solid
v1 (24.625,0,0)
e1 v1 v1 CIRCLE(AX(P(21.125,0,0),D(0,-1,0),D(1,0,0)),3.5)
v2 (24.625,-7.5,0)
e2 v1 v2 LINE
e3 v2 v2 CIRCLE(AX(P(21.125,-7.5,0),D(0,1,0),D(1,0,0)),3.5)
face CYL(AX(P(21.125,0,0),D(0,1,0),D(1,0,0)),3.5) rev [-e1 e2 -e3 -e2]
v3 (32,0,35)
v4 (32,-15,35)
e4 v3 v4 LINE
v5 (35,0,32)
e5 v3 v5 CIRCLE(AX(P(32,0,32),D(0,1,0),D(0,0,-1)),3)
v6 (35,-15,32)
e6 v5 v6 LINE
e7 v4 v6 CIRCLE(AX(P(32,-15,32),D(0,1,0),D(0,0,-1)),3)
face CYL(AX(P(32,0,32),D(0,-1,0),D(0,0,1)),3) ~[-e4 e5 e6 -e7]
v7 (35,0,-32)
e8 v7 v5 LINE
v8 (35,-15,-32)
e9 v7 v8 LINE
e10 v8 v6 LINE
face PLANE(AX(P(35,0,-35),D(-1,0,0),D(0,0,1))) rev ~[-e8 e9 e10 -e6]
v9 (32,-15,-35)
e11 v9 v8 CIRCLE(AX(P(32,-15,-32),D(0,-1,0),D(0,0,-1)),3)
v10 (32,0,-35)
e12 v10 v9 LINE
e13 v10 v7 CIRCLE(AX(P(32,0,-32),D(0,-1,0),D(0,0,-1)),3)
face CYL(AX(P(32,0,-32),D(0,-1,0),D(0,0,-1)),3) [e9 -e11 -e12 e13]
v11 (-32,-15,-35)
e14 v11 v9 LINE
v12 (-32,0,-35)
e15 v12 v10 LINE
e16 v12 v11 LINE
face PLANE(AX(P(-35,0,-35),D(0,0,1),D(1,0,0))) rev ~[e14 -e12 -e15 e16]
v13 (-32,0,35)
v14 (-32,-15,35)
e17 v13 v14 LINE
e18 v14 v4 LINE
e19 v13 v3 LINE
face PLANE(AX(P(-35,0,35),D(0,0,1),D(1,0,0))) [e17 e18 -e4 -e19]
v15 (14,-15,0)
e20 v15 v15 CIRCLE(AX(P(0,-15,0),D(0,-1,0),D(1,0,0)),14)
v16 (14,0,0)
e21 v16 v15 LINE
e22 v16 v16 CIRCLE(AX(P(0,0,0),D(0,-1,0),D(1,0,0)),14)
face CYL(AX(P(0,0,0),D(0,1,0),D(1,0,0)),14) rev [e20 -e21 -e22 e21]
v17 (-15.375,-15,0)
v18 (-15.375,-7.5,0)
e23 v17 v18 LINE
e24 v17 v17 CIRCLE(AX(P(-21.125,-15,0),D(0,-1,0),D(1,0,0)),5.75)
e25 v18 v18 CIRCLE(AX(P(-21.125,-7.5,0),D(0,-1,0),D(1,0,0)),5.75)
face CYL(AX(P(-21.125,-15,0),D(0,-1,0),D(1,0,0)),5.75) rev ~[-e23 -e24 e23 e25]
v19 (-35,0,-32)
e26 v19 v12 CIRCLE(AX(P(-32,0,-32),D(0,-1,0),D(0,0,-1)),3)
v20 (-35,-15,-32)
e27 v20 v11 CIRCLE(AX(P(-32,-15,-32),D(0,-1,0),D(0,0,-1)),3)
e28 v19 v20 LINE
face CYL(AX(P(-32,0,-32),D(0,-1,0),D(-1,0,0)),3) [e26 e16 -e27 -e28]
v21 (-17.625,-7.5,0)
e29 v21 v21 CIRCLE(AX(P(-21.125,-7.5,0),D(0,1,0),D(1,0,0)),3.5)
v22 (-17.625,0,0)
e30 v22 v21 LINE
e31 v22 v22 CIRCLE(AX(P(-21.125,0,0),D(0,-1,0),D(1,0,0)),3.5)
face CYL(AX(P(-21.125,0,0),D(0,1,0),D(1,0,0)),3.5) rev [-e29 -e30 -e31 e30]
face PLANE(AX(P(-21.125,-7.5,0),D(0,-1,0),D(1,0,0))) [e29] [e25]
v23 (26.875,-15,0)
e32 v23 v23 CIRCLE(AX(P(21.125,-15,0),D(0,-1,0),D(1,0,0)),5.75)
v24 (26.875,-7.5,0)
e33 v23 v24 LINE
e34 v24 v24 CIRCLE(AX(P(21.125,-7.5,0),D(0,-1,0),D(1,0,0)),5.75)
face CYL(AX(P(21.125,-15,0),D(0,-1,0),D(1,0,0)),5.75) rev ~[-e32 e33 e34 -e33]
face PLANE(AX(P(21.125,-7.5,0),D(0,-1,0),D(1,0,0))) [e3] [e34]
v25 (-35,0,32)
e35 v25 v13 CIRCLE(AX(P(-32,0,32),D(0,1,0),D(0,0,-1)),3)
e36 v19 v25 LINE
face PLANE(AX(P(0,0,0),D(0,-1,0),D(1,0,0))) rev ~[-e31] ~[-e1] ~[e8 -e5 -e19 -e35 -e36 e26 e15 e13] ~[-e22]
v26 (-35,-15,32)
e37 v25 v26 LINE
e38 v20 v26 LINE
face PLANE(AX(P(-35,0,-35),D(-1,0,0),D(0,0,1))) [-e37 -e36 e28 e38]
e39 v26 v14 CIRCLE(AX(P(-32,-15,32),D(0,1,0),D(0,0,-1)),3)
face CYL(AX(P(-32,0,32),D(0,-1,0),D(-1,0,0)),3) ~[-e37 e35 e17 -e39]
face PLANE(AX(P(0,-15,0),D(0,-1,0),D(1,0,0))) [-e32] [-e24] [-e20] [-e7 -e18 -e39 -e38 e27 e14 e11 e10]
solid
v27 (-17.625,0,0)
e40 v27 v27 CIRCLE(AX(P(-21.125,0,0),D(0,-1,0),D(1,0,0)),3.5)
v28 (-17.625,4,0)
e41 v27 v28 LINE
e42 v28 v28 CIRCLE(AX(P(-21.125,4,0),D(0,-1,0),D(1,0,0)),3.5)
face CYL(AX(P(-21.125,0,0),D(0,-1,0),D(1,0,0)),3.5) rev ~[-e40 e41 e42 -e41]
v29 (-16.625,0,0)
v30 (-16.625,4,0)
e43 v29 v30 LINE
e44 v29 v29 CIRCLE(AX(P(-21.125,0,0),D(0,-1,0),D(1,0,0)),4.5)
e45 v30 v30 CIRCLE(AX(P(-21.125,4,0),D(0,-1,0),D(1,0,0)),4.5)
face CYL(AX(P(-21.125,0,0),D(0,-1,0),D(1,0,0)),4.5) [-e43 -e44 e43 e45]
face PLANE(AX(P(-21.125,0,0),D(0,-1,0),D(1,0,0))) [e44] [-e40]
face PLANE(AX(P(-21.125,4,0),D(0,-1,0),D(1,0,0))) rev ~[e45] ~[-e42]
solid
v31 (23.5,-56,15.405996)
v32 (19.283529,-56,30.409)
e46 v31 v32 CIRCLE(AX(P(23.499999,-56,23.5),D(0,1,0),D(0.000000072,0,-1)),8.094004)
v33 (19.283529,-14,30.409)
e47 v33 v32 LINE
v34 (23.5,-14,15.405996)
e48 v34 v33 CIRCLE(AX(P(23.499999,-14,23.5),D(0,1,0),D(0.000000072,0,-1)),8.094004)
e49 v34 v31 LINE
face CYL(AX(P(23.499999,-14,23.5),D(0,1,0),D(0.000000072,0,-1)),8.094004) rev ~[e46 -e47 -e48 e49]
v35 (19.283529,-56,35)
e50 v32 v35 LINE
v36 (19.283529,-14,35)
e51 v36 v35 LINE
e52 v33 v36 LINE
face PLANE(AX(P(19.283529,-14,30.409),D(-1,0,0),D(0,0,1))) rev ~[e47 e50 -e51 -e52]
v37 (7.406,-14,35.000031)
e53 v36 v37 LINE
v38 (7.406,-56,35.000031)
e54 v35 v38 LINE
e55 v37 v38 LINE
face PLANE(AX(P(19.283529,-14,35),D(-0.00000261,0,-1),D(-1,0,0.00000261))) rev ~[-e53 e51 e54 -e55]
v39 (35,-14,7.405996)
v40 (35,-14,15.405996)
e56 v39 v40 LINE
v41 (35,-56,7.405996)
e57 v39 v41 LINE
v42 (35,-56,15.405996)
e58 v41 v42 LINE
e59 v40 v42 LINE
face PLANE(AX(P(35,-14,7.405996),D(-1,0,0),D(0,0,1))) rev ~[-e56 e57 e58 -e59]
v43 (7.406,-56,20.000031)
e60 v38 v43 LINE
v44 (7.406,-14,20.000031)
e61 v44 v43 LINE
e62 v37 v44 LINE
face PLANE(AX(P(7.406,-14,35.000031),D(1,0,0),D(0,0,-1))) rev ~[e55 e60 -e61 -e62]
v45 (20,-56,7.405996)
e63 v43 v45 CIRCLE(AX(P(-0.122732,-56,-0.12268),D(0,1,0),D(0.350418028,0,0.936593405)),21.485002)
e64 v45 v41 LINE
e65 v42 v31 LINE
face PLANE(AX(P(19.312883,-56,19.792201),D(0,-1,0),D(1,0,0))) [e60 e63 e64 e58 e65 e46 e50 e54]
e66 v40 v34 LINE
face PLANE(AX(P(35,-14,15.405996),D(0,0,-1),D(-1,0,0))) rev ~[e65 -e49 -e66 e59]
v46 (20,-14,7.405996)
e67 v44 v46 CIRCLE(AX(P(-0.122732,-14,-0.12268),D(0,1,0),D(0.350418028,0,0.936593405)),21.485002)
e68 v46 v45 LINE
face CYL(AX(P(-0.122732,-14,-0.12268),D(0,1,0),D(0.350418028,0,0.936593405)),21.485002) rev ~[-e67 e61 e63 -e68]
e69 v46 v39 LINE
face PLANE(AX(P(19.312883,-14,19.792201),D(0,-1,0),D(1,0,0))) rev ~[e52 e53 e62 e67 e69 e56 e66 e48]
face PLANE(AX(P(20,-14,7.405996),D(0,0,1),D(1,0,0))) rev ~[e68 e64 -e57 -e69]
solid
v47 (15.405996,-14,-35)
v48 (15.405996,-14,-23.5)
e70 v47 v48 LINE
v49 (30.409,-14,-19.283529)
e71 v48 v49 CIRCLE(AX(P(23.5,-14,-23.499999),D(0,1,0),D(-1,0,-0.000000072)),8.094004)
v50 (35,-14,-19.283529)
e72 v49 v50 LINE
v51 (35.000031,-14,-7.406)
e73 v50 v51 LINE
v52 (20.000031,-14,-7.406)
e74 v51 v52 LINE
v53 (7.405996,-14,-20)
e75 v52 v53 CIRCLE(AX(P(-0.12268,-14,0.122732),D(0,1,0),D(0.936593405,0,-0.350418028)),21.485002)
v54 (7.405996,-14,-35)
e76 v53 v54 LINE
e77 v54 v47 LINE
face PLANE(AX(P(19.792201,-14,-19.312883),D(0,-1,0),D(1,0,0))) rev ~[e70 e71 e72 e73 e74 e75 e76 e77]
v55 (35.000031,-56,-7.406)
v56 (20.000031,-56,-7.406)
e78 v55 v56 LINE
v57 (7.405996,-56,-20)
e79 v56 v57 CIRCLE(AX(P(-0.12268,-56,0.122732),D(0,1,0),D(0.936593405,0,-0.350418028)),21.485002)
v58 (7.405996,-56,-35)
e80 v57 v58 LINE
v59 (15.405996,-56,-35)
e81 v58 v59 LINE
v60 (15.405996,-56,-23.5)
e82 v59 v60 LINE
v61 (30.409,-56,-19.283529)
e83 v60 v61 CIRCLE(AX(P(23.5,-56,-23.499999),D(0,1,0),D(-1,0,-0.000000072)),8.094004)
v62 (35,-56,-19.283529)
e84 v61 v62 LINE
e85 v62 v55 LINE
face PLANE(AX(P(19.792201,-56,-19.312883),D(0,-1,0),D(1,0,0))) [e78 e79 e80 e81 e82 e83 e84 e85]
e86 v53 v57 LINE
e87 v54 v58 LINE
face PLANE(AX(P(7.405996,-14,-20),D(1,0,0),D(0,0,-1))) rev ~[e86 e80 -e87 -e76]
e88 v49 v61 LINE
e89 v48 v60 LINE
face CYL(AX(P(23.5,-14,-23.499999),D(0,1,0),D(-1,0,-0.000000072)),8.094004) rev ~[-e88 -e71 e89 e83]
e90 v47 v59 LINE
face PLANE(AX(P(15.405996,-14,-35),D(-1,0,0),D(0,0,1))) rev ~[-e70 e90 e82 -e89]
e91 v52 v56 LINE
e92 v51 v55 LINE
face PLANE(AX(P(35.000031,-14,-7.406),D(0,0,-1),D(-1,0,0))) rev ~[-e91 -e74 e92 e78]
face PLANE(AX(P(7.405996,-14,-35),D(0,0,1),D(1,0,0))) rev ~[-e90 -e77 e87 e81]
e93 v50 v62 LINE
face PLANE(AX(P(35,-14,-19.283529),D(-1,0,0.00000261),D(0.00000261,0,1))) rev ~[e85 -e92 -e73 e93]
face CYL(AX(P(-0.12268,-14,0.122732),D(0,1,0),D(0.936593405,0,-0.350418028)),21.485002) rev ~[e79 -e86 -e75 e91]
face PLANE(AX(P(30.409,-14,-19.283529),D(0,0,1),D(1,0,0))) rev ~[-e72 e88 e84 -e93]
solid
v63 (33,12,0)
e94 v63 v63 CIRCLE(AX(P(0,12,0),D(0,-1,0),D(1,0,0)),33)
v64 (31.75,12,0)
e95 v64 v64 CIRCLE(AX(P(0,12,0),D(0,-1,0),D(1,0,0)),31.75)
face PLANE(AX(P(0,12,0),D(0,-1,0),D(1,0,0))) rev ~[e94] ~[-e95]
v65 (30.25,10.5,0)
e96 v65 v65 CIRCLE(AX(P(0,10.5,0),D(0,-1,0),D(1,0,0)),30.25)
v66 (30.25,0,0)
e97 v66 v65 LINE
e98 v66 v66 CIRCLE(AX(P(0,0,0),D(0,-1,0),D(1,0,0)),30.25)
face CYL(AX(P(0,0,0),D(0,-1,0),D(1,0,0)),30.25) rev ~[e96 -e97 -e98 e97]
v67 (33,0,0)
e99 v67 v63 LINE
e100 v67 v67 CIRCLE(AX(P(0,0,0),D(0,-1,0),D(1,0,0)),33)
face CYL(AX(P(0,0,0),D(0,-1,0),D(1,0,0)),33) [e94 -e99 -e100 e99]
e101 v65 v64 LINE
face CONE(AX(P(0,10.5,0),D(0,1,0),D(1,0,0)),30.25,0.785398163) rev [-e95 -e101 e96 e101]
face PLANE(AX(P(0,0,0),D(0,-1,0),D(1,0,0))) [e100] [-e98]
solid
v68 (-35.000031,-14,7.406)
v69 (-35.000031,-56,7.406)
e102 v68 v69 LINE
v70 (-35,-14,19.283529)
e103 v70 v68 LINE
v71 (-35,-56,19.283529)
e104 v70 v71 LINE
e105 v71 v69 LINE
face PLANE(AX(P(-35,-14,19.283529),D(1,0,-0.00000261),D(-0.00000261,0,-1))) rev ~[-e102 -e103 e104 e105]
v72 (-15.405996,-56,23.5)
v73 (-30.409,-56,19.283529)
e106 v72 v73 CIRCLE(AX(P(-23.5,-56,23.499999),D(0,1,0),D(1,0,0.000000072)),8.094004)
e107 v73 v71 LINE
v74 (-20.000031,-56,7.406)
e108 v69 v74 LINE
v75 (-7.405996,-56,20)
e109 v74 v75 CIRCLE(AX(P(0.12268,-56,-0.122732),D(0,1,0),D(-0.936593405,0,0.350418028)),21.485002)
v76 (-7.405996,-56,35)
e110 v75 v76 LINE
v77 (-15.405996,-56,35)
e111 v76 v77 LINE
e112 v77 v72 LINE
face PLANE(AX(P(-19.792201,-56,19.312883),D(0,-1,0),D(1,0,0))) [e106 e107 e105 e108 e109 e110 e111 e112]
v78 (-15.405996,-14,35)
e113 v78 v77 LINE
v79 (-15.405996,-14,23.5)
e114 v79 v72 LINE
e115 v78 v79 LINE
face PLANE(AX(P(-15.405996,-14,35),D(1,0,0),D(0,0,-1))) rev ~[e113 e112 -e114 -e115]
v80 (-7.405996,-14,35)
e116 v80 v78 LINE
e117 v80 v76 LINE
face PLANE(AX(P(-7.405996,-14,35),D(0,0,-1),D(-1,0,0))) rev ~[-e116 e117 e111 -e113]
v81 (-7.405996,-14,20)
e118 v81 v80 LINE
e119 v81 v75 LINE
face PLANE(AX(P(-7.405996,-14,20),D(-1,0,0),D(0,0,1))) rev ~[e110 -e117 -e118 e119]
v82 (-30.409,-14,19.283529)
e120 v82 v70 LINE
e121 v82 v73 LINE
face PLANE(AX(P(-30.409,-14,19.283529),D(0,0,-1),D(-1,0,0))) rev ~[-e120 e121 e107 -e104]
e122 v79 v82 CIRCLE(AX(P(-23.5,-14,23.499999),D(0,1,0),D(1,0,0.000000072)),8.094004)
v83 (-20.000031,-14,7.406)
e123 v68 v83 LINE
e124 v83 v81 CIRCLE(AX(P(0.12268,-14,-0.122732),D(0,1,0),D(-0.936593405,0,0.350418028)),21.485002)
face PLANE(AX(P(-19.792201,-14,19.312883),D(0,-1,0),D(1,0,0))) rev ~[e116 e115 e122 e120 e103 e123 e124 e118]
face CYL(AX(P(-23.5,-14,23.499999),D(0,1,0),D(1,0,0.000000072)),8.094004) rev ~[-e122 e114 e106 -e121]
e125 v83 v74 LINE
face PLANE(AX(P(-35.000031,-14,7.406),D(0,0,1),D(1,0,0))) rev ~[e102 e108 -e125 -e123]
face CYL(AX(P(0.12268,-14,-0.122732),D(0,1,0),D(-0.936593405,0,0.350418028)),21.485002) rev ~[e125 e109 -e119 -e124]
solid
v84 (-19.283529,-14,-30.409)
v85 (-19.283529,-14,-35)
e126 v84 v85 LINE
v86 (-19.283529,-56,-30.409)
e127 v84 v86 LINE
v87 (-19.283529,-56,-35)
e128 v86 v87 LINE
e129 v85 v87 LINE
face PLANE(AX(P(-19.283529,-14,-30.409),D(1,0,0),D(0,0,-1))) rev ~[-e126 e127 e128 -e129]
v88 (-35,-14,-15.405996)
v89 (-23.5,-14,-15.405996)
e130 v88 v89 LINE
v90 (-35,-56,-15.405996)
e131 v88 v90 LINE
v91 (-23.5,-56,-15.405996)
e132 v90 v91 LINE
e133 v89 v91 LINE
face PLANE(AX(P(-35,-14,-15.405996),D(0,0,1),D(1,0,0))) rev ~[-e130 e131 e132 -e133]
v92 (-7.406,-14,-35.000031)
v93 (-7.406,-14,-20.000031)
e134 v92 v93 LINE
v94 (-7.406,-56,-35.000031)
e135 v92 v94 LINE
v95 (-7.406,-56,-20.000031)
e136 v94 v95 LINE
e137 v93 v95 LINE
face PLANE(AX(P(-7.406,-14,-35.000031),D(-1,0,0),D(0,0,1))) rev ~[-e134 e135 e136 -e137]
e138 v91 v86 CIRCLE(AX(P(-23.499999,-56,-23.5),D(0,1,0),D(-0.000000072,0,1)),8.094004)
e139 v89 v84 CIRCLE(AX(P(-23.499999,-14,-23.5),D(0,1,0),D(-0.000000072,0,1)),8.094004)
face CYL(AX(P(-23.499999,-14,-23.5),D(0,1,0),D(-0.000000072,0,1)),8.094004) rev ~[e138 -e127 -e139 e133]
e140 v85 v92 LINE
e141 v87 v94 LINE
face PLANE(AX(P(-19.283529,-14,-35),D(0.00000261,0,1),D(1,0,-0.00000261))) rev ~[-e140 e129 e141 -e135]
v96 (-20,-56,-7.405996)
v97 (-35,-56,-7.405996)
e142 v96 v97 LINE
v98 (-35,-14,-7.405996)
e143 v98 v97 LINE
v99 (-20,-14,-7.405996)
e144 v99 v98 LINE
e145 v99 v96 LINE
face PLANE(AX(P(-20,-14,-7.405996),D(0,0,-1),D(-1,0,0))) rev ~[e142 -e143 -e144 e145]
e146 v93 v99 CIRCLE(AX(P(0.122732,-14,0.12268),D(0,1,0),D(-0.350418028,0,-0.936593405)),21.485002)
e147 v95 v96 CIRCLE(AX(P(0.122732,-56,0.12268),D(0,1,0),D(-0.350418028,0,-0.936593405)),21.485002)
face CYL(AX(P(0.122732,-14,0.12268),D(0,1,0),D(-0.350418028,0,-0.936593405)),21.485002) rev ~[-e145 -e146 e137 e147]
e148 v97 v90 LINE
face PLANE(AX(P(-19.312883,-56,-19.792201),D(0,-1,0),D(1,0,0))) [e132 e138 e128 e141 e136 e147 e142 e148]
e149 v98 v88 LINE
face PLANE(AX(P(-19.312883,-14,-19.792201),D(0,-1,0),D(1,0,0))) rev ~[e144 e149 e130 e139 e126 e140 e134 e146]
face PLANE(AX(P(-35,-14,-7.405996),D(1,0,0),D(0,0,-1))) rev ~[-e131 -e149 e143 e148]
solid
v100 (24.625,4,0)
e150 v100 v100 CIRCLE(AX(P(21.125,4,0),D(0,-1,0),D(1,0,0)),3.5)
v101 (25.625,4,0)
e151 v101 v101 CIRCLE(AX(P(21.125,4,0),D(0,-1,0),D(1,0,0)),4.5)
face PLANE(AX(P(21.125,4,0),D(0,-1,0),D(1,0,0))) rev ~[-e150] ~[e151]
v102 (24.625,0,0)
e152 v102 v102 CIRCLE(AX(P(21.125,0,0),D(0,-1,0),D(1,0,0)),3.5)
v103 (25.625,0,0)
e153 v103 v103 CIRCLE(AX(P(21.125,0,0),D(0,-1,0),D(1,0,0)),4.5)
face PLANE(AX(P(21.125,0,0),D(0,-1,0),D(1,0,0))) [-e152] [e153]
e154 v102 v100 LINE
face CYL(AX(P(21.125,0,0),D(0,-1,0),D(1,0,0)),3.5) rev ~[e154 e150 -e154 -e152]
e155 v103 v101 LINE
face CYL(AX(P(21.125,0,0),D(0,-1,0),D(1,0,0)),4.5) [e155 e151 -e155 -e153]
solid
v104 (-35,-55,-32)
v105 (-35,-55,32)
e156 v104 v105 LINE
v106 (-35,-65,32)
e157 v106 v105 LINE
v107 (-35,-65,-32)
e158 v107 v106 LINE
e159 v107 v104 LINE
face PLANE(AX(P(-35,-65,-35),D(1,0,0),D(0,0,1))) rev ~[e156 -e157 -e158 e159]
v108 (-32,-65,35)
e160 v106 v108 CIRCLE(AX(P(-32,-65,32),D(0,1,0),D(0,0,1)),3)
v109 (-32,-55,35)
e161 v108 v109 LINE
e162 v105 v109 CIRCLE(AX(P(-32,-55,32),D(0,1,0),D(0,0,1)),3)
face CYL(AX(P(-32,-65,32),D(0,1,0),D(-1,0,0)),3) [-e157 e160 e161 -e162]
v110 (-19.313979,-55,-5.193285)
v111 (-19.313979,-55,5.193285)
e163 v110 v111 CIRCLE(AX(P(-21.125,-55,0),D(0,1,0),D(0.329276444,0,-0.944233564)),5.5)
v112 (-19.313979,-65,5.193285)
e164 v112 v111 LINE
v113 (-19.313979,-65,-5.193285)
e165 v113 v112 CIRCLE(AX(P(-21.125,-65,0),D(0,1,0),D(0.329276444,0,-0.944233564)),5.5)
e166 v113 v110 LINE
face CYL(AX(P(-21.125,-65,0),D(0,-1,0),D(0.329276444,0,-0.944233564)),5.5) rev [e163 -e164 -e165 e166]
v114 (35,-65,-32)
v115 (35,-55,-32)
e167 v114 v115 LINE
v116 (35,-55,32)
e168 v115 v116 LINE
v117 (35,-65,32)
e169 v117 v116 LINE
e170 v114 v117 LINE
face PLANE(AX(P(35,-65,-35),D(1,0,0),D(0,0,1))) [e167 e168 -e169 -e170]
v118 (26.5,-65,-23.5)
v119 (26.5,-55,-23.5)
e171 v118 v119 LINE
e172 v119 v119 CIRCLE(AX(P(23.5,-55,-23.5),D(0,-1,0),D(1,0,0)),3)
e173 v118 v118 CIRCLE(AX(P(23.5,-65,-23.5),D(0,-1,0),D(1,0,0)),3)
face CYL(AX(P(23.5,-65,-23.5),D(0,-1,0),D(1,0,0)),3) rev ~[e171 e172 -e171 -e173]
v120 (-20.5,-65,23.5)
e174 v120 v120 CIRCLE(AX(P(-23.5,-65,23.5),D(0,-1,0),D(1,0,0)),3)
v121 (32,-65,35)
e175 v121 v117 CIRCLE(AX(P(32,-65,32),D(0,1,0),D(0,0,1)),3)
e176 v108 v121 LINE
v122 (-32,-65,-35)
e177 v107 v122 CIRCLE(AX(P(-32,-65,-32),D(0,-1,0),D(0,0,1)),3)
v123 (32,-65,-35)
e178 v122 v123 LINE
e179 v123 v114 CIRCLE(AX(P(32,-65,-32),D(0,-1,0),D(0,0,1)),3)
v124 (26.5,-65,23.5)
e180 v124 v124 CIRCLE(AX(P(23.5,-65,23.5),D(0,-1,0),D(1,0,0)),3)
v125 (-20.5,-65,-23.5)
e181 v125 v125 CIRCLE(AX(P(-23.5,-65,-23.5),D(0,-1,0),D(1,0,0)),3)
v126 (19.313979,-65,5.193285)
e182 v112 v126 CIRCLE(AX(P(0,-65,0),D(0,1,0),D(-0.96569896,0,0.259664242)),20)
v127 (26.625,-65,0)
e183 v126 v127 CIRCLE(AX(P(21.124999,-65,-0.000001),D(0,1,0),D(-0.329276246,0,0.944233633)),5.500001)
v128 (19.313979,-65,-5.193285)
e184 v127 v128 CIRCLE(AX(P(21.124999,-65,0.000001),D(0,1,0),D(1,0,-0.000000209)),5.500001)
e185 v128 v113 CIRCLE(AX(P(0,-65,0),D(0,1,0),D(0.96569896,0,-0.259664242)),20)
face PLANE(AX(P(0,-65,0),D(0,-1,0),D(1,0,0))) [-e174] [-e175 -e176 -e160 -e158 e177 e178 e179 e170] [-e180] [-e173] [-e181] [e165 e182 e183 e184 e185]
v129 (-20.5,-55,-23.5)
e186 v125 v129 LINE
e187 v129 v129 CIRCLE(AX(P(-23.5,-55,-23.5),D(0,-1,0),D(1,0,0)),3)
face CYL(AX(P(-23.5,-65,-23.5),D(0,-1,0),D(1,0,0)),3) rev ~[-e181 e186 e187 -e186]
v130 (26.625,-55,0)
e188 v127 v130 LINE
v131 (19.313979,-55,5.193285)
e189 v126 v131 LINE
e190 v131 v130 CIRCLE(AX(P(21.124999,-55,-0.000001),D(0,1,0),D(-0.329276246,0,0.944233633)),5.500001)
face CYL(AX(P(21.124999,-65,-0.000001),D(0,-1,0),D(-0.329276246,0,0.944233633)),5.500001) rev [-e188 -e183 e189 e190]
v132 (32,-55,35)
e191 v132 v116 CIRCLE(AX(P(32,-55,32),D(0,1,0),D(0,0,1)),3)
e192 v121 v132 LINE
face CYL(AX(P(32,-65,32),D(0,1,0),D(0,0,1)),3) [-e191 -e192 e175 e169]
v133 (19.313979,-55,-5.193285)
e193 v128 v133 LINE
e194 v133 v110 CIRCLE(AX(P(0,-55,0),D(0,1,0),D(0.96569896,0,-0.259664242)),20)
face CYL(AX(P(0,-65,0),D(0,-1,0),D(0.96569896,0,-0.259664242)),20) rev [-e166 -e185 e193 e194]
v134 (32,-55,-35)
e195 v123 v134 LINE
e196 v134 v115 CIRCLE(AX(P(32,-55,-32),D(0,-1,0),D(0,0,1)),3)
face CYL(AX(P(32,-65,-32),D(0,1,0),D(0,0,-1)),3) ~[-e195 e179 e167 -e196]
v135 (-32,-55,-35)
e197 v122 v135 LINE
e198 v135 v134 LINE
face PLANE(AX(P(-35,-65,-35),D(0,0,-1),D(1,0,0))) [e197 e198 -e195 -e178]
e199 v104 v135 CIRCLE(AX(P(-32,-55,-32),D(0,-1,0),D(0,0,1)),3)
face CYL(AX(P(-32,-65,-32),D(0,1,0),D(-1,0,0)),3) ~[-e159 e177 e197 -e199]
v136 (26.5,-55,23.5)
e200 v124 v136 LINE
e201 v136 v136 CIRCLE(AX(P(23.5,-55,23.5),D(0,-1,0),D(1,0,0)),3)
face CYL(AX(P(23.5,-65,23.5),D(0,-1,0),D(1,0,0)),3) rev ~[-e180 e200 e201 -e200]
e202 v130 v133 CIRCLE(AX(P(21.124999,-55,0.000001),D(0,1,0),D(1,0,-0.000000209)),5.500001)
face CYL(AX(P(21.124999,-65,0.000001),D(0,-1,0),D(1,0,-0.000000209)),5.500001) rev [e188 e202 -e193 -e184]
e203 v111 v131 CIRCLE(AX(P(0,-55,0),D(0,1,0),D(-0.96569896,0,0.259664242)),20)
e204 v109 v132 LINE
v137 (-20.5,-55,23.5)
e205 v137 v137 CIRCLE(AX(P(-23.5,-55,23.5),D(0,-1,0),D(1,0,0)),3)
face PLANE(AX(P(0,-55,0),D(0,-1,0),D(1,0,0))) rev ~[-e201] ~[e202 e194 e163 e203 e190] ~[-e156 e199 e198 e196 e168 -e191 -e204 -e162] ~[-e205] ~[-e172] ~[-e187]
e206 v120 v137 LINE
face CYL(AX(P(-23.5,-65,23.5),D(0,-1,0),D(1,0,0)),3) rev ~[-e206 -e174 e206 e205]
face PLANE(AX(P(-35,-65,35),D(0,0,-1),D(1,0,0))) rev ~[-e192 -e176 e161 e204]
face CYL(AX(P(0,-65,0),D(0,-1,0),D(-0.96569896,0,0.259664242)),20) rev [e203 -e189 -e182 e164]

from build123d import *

# Parameters (mm, degrees)
F0_R      = 4.5
F0_R_2    = 3.5
F1_DEPTH  = 4
F2_R      = 33
F2_R_2    = 30.25
F3_DEPTH  = 12
F4_SIZE   = 1.5
F5_W      = 70
F5_H      = 70
F5_R      = 3.5
F5_R_2    = 14
F6_DEPTH  = 15
F8_R      = 5.75
F9_DEPTH  = 7.5
F11_W     = 70
F11_H     = 70
F11_R     = 3
F12_DEPTH = 10
F15_DEPTH = 42
F16_R     = 3
F17_R     = 3


with BuildPart() as f1:
    # F0 (on Front) → F1 (new body)
    with BuildSketch(Plane.XZ):
        with Locations((-21.125, 0)):
            Circle(F0_R)
        with Locations((-21.125, 0)):
            Circle(F0_R_2, mode=Mode.SUBTRACT)
        with Locations((21.125, 0)):
            Circle(F0_R)
        with Locations((21.125, 0)):
            Circle(F0_R_2, mode=Mode.SUBTRACT)
    extrude(amount=-F1_DEPTH)


with BuildPart() as f3:
    # F2 (on Front) → F3 (new body)
    with BuildSketch(Plane.XZ):
        Circle(F2_R)
        Circle(F2_R_2, mode=Mode.SUBTRACT)
    extrude(amount=-F3_DEPTH)

    # F4
    f4_edges = [f3.edges().sort_by_distance(p)[0] for p in [
        (-30.25, 12, 0),
    ]]
    chamfer(f4_edges, length=F4_SIZE)


with BuildPart() as f6:
    # F5 (on Front) → F6 (new body)
    with BuildSketch(Plane.XZ):
        Rectangle(F5_W, F5_H)
        with Locations((-21.125, 0)):
            Circle(F5_R, mode=Mode.SUBTRACT)
        Circle(F5_R_2, mode=Mode.SUBTRACT)
        with Locations((21.125, 0)):
            Circle(F5_R, mode=Mode.SUBTRACT)
    extrude(amount=F6_DEPTH)

    # F8 (on offset) → F9 (cut)
    with BuildSketch(Plane.XZ.offset(15)):
        with Locations((-21.125, 0)):
            Circle(F8_R)
        with Locations((21.125, 0)):
            Circle(F8_R)
    extrude(amount=-F9_DEPTH, mode=Mode.SUBTRACT)

    # F17
    f17_edges = [f6.edges().sort_by_distance(p)[0] for p in [
        (35, -7.5, -35),
        (35, -7.5, 35),
        (-35, -7.5, 35),
        (-35, -7.5, -35),
    ]]
    fillet(f17_edges, radius=F17_R)


with BuildPart() as f12:
    # F11 (on offset) → F12 (new body)
    with BuildSketch(Plane.XZ.offset(65)):
        Rectangle(F11_W, F11_H)
        with Locations((-23.5, -23.5)):
            Circle(F11_R, mode=Mode.SUBTRACT)
        with Locations((23.5, -23.5)):
            Circle(F11_R, mode=Mode.SUBTRACT)
        with Locations((-23.5, 23.5)):
            Circle(F11_R, mode=Mode.SUBTRACT)
        with BuildLine():
            ThreePointArc((-19.313979, 5.193285), (0, 20), (19.313979, 5.193285))
            ThreePointArc((19.313979, 5.193285), (24.310073, 4.483894), (26.625, 0))
            ThreePointArc((26.625, 0), (24.310073, -4.483894), (19.313979, -5.193285))
            ThreePointArc((19.313979, -5.193285), (0, -20), (-19.313979, -5.193285))
            ThreePointArc((-19.313979, -5.193285), (-26.625, 0), (-19.313979, 5.193285))
        make_face(mode=Mode.SUBTRACT)
        with Locations((23.5, 23.5)):
            Circle(F11_R, mode=Mode.SUBTRACT)
    extrude(amount=-F12_DEPTH)

    # F16
    f16_edges = [f12.edges().sort_by_distance(p)[0] for p in [
        (-35, -60, 35),
        (35, -60, 35),
        (35, -60, -35),
        (-35, -60, -35),
    ]]
    fillet(f16_edges, radius=F16_R)


with BuildPart() as f15:
    # F14 (on offset) → F15 (new body)
    with BuildSketch(Plane.XZ.offset(14)):
        with BuildLine():
            Line((-15.405996, 35), (-15.405996, 23.5))
            ThreePointArc((-15.405996, 23.5), (-21.310088, 15.707876), (-30.409, 19.283529))
            Line((-30.409, 19.283529), (-35, 19.283529))
            Line((-35, 19.283529), (-35.000031, 7.406))
            Line((-35.000031, 7.406), (-20.000031, 7.406))
            ThreePointArc((-20.000031, 7.406), (-15.069489, 15.06948), (-7.405996, 20))
            Line((-7.405996, 20), (-7.405996, 35))
            Line((-7.405996, 35), (-15.405996, 35))
        make_face()
        with BuildLine():
            Line((-20, -7.405996), (-35, -7.405996))
            Line((-35, -7.405996), (-35, -15.405996))
            Line((-35, -15.405996), (-23.5, -15.405996))
            ThreePointArc((-23.5, -15.405996), (-15.707876, -21.310088), (-19.283529, -30.409))
            Line((-19.283529, -30.409), (-19.283529, -35))
            Line((-19.283529, -35), (-7.406, -35.000031))
            Line((-7.406, -35.000031), (-7.406, -20.000031))
            ThreePointArc((-7.406, -20.000031), (-15.06948, -15.069489), (-20, -7.405996))
        make_face()
        with BuildLine():
            Line((7.405996, -20), (7.405996, -35))
            Line((7.405996, -35), (15.405996, -35))
            Line((15.405996, -35), (15.405996, -23.5))
            ThreePointArc((15.405996, -23.5), (21.310088, -15.707876), (30.409, -19.283529))
            Line((30.409, -19.283529), (35, -19.283529))
            Line((35, -19.283529), (35.000031, -7.406))
            Line((35.000031, -7.406), (20.000031, -7.406))
            ThreePointArc((20.000031, -7.406), (15.069489, -15.06948), (7.405996, -20))
        make_face()
        with BuildLine():
            Line((20, 7.405996), (35, 7.405996))
            Line((35, 7.405996), (35, 15.405996))
            Line((35, 15.405996), (23.5, 15.405996))
            ThreePointArc((23.5, 15.405996), (15.707876, 21.310088), (19.283529, 30.409))
            Line((19.283529, 30.409), (19.283529, 35))
            Line((19.283529, 35), (7.406, 35.000031))
            Line((7.406, 35.000031), (7.406, 20.000031))
            ThreePointArc((7.406, 20.000031), (15.06948, 15.069489), (20, 7.405996))
        make_face()
    extrude(amount=F15_DEPTH)


solid = Compound([f1.part, f3.part, f6.part, f12.part, f15.part])
